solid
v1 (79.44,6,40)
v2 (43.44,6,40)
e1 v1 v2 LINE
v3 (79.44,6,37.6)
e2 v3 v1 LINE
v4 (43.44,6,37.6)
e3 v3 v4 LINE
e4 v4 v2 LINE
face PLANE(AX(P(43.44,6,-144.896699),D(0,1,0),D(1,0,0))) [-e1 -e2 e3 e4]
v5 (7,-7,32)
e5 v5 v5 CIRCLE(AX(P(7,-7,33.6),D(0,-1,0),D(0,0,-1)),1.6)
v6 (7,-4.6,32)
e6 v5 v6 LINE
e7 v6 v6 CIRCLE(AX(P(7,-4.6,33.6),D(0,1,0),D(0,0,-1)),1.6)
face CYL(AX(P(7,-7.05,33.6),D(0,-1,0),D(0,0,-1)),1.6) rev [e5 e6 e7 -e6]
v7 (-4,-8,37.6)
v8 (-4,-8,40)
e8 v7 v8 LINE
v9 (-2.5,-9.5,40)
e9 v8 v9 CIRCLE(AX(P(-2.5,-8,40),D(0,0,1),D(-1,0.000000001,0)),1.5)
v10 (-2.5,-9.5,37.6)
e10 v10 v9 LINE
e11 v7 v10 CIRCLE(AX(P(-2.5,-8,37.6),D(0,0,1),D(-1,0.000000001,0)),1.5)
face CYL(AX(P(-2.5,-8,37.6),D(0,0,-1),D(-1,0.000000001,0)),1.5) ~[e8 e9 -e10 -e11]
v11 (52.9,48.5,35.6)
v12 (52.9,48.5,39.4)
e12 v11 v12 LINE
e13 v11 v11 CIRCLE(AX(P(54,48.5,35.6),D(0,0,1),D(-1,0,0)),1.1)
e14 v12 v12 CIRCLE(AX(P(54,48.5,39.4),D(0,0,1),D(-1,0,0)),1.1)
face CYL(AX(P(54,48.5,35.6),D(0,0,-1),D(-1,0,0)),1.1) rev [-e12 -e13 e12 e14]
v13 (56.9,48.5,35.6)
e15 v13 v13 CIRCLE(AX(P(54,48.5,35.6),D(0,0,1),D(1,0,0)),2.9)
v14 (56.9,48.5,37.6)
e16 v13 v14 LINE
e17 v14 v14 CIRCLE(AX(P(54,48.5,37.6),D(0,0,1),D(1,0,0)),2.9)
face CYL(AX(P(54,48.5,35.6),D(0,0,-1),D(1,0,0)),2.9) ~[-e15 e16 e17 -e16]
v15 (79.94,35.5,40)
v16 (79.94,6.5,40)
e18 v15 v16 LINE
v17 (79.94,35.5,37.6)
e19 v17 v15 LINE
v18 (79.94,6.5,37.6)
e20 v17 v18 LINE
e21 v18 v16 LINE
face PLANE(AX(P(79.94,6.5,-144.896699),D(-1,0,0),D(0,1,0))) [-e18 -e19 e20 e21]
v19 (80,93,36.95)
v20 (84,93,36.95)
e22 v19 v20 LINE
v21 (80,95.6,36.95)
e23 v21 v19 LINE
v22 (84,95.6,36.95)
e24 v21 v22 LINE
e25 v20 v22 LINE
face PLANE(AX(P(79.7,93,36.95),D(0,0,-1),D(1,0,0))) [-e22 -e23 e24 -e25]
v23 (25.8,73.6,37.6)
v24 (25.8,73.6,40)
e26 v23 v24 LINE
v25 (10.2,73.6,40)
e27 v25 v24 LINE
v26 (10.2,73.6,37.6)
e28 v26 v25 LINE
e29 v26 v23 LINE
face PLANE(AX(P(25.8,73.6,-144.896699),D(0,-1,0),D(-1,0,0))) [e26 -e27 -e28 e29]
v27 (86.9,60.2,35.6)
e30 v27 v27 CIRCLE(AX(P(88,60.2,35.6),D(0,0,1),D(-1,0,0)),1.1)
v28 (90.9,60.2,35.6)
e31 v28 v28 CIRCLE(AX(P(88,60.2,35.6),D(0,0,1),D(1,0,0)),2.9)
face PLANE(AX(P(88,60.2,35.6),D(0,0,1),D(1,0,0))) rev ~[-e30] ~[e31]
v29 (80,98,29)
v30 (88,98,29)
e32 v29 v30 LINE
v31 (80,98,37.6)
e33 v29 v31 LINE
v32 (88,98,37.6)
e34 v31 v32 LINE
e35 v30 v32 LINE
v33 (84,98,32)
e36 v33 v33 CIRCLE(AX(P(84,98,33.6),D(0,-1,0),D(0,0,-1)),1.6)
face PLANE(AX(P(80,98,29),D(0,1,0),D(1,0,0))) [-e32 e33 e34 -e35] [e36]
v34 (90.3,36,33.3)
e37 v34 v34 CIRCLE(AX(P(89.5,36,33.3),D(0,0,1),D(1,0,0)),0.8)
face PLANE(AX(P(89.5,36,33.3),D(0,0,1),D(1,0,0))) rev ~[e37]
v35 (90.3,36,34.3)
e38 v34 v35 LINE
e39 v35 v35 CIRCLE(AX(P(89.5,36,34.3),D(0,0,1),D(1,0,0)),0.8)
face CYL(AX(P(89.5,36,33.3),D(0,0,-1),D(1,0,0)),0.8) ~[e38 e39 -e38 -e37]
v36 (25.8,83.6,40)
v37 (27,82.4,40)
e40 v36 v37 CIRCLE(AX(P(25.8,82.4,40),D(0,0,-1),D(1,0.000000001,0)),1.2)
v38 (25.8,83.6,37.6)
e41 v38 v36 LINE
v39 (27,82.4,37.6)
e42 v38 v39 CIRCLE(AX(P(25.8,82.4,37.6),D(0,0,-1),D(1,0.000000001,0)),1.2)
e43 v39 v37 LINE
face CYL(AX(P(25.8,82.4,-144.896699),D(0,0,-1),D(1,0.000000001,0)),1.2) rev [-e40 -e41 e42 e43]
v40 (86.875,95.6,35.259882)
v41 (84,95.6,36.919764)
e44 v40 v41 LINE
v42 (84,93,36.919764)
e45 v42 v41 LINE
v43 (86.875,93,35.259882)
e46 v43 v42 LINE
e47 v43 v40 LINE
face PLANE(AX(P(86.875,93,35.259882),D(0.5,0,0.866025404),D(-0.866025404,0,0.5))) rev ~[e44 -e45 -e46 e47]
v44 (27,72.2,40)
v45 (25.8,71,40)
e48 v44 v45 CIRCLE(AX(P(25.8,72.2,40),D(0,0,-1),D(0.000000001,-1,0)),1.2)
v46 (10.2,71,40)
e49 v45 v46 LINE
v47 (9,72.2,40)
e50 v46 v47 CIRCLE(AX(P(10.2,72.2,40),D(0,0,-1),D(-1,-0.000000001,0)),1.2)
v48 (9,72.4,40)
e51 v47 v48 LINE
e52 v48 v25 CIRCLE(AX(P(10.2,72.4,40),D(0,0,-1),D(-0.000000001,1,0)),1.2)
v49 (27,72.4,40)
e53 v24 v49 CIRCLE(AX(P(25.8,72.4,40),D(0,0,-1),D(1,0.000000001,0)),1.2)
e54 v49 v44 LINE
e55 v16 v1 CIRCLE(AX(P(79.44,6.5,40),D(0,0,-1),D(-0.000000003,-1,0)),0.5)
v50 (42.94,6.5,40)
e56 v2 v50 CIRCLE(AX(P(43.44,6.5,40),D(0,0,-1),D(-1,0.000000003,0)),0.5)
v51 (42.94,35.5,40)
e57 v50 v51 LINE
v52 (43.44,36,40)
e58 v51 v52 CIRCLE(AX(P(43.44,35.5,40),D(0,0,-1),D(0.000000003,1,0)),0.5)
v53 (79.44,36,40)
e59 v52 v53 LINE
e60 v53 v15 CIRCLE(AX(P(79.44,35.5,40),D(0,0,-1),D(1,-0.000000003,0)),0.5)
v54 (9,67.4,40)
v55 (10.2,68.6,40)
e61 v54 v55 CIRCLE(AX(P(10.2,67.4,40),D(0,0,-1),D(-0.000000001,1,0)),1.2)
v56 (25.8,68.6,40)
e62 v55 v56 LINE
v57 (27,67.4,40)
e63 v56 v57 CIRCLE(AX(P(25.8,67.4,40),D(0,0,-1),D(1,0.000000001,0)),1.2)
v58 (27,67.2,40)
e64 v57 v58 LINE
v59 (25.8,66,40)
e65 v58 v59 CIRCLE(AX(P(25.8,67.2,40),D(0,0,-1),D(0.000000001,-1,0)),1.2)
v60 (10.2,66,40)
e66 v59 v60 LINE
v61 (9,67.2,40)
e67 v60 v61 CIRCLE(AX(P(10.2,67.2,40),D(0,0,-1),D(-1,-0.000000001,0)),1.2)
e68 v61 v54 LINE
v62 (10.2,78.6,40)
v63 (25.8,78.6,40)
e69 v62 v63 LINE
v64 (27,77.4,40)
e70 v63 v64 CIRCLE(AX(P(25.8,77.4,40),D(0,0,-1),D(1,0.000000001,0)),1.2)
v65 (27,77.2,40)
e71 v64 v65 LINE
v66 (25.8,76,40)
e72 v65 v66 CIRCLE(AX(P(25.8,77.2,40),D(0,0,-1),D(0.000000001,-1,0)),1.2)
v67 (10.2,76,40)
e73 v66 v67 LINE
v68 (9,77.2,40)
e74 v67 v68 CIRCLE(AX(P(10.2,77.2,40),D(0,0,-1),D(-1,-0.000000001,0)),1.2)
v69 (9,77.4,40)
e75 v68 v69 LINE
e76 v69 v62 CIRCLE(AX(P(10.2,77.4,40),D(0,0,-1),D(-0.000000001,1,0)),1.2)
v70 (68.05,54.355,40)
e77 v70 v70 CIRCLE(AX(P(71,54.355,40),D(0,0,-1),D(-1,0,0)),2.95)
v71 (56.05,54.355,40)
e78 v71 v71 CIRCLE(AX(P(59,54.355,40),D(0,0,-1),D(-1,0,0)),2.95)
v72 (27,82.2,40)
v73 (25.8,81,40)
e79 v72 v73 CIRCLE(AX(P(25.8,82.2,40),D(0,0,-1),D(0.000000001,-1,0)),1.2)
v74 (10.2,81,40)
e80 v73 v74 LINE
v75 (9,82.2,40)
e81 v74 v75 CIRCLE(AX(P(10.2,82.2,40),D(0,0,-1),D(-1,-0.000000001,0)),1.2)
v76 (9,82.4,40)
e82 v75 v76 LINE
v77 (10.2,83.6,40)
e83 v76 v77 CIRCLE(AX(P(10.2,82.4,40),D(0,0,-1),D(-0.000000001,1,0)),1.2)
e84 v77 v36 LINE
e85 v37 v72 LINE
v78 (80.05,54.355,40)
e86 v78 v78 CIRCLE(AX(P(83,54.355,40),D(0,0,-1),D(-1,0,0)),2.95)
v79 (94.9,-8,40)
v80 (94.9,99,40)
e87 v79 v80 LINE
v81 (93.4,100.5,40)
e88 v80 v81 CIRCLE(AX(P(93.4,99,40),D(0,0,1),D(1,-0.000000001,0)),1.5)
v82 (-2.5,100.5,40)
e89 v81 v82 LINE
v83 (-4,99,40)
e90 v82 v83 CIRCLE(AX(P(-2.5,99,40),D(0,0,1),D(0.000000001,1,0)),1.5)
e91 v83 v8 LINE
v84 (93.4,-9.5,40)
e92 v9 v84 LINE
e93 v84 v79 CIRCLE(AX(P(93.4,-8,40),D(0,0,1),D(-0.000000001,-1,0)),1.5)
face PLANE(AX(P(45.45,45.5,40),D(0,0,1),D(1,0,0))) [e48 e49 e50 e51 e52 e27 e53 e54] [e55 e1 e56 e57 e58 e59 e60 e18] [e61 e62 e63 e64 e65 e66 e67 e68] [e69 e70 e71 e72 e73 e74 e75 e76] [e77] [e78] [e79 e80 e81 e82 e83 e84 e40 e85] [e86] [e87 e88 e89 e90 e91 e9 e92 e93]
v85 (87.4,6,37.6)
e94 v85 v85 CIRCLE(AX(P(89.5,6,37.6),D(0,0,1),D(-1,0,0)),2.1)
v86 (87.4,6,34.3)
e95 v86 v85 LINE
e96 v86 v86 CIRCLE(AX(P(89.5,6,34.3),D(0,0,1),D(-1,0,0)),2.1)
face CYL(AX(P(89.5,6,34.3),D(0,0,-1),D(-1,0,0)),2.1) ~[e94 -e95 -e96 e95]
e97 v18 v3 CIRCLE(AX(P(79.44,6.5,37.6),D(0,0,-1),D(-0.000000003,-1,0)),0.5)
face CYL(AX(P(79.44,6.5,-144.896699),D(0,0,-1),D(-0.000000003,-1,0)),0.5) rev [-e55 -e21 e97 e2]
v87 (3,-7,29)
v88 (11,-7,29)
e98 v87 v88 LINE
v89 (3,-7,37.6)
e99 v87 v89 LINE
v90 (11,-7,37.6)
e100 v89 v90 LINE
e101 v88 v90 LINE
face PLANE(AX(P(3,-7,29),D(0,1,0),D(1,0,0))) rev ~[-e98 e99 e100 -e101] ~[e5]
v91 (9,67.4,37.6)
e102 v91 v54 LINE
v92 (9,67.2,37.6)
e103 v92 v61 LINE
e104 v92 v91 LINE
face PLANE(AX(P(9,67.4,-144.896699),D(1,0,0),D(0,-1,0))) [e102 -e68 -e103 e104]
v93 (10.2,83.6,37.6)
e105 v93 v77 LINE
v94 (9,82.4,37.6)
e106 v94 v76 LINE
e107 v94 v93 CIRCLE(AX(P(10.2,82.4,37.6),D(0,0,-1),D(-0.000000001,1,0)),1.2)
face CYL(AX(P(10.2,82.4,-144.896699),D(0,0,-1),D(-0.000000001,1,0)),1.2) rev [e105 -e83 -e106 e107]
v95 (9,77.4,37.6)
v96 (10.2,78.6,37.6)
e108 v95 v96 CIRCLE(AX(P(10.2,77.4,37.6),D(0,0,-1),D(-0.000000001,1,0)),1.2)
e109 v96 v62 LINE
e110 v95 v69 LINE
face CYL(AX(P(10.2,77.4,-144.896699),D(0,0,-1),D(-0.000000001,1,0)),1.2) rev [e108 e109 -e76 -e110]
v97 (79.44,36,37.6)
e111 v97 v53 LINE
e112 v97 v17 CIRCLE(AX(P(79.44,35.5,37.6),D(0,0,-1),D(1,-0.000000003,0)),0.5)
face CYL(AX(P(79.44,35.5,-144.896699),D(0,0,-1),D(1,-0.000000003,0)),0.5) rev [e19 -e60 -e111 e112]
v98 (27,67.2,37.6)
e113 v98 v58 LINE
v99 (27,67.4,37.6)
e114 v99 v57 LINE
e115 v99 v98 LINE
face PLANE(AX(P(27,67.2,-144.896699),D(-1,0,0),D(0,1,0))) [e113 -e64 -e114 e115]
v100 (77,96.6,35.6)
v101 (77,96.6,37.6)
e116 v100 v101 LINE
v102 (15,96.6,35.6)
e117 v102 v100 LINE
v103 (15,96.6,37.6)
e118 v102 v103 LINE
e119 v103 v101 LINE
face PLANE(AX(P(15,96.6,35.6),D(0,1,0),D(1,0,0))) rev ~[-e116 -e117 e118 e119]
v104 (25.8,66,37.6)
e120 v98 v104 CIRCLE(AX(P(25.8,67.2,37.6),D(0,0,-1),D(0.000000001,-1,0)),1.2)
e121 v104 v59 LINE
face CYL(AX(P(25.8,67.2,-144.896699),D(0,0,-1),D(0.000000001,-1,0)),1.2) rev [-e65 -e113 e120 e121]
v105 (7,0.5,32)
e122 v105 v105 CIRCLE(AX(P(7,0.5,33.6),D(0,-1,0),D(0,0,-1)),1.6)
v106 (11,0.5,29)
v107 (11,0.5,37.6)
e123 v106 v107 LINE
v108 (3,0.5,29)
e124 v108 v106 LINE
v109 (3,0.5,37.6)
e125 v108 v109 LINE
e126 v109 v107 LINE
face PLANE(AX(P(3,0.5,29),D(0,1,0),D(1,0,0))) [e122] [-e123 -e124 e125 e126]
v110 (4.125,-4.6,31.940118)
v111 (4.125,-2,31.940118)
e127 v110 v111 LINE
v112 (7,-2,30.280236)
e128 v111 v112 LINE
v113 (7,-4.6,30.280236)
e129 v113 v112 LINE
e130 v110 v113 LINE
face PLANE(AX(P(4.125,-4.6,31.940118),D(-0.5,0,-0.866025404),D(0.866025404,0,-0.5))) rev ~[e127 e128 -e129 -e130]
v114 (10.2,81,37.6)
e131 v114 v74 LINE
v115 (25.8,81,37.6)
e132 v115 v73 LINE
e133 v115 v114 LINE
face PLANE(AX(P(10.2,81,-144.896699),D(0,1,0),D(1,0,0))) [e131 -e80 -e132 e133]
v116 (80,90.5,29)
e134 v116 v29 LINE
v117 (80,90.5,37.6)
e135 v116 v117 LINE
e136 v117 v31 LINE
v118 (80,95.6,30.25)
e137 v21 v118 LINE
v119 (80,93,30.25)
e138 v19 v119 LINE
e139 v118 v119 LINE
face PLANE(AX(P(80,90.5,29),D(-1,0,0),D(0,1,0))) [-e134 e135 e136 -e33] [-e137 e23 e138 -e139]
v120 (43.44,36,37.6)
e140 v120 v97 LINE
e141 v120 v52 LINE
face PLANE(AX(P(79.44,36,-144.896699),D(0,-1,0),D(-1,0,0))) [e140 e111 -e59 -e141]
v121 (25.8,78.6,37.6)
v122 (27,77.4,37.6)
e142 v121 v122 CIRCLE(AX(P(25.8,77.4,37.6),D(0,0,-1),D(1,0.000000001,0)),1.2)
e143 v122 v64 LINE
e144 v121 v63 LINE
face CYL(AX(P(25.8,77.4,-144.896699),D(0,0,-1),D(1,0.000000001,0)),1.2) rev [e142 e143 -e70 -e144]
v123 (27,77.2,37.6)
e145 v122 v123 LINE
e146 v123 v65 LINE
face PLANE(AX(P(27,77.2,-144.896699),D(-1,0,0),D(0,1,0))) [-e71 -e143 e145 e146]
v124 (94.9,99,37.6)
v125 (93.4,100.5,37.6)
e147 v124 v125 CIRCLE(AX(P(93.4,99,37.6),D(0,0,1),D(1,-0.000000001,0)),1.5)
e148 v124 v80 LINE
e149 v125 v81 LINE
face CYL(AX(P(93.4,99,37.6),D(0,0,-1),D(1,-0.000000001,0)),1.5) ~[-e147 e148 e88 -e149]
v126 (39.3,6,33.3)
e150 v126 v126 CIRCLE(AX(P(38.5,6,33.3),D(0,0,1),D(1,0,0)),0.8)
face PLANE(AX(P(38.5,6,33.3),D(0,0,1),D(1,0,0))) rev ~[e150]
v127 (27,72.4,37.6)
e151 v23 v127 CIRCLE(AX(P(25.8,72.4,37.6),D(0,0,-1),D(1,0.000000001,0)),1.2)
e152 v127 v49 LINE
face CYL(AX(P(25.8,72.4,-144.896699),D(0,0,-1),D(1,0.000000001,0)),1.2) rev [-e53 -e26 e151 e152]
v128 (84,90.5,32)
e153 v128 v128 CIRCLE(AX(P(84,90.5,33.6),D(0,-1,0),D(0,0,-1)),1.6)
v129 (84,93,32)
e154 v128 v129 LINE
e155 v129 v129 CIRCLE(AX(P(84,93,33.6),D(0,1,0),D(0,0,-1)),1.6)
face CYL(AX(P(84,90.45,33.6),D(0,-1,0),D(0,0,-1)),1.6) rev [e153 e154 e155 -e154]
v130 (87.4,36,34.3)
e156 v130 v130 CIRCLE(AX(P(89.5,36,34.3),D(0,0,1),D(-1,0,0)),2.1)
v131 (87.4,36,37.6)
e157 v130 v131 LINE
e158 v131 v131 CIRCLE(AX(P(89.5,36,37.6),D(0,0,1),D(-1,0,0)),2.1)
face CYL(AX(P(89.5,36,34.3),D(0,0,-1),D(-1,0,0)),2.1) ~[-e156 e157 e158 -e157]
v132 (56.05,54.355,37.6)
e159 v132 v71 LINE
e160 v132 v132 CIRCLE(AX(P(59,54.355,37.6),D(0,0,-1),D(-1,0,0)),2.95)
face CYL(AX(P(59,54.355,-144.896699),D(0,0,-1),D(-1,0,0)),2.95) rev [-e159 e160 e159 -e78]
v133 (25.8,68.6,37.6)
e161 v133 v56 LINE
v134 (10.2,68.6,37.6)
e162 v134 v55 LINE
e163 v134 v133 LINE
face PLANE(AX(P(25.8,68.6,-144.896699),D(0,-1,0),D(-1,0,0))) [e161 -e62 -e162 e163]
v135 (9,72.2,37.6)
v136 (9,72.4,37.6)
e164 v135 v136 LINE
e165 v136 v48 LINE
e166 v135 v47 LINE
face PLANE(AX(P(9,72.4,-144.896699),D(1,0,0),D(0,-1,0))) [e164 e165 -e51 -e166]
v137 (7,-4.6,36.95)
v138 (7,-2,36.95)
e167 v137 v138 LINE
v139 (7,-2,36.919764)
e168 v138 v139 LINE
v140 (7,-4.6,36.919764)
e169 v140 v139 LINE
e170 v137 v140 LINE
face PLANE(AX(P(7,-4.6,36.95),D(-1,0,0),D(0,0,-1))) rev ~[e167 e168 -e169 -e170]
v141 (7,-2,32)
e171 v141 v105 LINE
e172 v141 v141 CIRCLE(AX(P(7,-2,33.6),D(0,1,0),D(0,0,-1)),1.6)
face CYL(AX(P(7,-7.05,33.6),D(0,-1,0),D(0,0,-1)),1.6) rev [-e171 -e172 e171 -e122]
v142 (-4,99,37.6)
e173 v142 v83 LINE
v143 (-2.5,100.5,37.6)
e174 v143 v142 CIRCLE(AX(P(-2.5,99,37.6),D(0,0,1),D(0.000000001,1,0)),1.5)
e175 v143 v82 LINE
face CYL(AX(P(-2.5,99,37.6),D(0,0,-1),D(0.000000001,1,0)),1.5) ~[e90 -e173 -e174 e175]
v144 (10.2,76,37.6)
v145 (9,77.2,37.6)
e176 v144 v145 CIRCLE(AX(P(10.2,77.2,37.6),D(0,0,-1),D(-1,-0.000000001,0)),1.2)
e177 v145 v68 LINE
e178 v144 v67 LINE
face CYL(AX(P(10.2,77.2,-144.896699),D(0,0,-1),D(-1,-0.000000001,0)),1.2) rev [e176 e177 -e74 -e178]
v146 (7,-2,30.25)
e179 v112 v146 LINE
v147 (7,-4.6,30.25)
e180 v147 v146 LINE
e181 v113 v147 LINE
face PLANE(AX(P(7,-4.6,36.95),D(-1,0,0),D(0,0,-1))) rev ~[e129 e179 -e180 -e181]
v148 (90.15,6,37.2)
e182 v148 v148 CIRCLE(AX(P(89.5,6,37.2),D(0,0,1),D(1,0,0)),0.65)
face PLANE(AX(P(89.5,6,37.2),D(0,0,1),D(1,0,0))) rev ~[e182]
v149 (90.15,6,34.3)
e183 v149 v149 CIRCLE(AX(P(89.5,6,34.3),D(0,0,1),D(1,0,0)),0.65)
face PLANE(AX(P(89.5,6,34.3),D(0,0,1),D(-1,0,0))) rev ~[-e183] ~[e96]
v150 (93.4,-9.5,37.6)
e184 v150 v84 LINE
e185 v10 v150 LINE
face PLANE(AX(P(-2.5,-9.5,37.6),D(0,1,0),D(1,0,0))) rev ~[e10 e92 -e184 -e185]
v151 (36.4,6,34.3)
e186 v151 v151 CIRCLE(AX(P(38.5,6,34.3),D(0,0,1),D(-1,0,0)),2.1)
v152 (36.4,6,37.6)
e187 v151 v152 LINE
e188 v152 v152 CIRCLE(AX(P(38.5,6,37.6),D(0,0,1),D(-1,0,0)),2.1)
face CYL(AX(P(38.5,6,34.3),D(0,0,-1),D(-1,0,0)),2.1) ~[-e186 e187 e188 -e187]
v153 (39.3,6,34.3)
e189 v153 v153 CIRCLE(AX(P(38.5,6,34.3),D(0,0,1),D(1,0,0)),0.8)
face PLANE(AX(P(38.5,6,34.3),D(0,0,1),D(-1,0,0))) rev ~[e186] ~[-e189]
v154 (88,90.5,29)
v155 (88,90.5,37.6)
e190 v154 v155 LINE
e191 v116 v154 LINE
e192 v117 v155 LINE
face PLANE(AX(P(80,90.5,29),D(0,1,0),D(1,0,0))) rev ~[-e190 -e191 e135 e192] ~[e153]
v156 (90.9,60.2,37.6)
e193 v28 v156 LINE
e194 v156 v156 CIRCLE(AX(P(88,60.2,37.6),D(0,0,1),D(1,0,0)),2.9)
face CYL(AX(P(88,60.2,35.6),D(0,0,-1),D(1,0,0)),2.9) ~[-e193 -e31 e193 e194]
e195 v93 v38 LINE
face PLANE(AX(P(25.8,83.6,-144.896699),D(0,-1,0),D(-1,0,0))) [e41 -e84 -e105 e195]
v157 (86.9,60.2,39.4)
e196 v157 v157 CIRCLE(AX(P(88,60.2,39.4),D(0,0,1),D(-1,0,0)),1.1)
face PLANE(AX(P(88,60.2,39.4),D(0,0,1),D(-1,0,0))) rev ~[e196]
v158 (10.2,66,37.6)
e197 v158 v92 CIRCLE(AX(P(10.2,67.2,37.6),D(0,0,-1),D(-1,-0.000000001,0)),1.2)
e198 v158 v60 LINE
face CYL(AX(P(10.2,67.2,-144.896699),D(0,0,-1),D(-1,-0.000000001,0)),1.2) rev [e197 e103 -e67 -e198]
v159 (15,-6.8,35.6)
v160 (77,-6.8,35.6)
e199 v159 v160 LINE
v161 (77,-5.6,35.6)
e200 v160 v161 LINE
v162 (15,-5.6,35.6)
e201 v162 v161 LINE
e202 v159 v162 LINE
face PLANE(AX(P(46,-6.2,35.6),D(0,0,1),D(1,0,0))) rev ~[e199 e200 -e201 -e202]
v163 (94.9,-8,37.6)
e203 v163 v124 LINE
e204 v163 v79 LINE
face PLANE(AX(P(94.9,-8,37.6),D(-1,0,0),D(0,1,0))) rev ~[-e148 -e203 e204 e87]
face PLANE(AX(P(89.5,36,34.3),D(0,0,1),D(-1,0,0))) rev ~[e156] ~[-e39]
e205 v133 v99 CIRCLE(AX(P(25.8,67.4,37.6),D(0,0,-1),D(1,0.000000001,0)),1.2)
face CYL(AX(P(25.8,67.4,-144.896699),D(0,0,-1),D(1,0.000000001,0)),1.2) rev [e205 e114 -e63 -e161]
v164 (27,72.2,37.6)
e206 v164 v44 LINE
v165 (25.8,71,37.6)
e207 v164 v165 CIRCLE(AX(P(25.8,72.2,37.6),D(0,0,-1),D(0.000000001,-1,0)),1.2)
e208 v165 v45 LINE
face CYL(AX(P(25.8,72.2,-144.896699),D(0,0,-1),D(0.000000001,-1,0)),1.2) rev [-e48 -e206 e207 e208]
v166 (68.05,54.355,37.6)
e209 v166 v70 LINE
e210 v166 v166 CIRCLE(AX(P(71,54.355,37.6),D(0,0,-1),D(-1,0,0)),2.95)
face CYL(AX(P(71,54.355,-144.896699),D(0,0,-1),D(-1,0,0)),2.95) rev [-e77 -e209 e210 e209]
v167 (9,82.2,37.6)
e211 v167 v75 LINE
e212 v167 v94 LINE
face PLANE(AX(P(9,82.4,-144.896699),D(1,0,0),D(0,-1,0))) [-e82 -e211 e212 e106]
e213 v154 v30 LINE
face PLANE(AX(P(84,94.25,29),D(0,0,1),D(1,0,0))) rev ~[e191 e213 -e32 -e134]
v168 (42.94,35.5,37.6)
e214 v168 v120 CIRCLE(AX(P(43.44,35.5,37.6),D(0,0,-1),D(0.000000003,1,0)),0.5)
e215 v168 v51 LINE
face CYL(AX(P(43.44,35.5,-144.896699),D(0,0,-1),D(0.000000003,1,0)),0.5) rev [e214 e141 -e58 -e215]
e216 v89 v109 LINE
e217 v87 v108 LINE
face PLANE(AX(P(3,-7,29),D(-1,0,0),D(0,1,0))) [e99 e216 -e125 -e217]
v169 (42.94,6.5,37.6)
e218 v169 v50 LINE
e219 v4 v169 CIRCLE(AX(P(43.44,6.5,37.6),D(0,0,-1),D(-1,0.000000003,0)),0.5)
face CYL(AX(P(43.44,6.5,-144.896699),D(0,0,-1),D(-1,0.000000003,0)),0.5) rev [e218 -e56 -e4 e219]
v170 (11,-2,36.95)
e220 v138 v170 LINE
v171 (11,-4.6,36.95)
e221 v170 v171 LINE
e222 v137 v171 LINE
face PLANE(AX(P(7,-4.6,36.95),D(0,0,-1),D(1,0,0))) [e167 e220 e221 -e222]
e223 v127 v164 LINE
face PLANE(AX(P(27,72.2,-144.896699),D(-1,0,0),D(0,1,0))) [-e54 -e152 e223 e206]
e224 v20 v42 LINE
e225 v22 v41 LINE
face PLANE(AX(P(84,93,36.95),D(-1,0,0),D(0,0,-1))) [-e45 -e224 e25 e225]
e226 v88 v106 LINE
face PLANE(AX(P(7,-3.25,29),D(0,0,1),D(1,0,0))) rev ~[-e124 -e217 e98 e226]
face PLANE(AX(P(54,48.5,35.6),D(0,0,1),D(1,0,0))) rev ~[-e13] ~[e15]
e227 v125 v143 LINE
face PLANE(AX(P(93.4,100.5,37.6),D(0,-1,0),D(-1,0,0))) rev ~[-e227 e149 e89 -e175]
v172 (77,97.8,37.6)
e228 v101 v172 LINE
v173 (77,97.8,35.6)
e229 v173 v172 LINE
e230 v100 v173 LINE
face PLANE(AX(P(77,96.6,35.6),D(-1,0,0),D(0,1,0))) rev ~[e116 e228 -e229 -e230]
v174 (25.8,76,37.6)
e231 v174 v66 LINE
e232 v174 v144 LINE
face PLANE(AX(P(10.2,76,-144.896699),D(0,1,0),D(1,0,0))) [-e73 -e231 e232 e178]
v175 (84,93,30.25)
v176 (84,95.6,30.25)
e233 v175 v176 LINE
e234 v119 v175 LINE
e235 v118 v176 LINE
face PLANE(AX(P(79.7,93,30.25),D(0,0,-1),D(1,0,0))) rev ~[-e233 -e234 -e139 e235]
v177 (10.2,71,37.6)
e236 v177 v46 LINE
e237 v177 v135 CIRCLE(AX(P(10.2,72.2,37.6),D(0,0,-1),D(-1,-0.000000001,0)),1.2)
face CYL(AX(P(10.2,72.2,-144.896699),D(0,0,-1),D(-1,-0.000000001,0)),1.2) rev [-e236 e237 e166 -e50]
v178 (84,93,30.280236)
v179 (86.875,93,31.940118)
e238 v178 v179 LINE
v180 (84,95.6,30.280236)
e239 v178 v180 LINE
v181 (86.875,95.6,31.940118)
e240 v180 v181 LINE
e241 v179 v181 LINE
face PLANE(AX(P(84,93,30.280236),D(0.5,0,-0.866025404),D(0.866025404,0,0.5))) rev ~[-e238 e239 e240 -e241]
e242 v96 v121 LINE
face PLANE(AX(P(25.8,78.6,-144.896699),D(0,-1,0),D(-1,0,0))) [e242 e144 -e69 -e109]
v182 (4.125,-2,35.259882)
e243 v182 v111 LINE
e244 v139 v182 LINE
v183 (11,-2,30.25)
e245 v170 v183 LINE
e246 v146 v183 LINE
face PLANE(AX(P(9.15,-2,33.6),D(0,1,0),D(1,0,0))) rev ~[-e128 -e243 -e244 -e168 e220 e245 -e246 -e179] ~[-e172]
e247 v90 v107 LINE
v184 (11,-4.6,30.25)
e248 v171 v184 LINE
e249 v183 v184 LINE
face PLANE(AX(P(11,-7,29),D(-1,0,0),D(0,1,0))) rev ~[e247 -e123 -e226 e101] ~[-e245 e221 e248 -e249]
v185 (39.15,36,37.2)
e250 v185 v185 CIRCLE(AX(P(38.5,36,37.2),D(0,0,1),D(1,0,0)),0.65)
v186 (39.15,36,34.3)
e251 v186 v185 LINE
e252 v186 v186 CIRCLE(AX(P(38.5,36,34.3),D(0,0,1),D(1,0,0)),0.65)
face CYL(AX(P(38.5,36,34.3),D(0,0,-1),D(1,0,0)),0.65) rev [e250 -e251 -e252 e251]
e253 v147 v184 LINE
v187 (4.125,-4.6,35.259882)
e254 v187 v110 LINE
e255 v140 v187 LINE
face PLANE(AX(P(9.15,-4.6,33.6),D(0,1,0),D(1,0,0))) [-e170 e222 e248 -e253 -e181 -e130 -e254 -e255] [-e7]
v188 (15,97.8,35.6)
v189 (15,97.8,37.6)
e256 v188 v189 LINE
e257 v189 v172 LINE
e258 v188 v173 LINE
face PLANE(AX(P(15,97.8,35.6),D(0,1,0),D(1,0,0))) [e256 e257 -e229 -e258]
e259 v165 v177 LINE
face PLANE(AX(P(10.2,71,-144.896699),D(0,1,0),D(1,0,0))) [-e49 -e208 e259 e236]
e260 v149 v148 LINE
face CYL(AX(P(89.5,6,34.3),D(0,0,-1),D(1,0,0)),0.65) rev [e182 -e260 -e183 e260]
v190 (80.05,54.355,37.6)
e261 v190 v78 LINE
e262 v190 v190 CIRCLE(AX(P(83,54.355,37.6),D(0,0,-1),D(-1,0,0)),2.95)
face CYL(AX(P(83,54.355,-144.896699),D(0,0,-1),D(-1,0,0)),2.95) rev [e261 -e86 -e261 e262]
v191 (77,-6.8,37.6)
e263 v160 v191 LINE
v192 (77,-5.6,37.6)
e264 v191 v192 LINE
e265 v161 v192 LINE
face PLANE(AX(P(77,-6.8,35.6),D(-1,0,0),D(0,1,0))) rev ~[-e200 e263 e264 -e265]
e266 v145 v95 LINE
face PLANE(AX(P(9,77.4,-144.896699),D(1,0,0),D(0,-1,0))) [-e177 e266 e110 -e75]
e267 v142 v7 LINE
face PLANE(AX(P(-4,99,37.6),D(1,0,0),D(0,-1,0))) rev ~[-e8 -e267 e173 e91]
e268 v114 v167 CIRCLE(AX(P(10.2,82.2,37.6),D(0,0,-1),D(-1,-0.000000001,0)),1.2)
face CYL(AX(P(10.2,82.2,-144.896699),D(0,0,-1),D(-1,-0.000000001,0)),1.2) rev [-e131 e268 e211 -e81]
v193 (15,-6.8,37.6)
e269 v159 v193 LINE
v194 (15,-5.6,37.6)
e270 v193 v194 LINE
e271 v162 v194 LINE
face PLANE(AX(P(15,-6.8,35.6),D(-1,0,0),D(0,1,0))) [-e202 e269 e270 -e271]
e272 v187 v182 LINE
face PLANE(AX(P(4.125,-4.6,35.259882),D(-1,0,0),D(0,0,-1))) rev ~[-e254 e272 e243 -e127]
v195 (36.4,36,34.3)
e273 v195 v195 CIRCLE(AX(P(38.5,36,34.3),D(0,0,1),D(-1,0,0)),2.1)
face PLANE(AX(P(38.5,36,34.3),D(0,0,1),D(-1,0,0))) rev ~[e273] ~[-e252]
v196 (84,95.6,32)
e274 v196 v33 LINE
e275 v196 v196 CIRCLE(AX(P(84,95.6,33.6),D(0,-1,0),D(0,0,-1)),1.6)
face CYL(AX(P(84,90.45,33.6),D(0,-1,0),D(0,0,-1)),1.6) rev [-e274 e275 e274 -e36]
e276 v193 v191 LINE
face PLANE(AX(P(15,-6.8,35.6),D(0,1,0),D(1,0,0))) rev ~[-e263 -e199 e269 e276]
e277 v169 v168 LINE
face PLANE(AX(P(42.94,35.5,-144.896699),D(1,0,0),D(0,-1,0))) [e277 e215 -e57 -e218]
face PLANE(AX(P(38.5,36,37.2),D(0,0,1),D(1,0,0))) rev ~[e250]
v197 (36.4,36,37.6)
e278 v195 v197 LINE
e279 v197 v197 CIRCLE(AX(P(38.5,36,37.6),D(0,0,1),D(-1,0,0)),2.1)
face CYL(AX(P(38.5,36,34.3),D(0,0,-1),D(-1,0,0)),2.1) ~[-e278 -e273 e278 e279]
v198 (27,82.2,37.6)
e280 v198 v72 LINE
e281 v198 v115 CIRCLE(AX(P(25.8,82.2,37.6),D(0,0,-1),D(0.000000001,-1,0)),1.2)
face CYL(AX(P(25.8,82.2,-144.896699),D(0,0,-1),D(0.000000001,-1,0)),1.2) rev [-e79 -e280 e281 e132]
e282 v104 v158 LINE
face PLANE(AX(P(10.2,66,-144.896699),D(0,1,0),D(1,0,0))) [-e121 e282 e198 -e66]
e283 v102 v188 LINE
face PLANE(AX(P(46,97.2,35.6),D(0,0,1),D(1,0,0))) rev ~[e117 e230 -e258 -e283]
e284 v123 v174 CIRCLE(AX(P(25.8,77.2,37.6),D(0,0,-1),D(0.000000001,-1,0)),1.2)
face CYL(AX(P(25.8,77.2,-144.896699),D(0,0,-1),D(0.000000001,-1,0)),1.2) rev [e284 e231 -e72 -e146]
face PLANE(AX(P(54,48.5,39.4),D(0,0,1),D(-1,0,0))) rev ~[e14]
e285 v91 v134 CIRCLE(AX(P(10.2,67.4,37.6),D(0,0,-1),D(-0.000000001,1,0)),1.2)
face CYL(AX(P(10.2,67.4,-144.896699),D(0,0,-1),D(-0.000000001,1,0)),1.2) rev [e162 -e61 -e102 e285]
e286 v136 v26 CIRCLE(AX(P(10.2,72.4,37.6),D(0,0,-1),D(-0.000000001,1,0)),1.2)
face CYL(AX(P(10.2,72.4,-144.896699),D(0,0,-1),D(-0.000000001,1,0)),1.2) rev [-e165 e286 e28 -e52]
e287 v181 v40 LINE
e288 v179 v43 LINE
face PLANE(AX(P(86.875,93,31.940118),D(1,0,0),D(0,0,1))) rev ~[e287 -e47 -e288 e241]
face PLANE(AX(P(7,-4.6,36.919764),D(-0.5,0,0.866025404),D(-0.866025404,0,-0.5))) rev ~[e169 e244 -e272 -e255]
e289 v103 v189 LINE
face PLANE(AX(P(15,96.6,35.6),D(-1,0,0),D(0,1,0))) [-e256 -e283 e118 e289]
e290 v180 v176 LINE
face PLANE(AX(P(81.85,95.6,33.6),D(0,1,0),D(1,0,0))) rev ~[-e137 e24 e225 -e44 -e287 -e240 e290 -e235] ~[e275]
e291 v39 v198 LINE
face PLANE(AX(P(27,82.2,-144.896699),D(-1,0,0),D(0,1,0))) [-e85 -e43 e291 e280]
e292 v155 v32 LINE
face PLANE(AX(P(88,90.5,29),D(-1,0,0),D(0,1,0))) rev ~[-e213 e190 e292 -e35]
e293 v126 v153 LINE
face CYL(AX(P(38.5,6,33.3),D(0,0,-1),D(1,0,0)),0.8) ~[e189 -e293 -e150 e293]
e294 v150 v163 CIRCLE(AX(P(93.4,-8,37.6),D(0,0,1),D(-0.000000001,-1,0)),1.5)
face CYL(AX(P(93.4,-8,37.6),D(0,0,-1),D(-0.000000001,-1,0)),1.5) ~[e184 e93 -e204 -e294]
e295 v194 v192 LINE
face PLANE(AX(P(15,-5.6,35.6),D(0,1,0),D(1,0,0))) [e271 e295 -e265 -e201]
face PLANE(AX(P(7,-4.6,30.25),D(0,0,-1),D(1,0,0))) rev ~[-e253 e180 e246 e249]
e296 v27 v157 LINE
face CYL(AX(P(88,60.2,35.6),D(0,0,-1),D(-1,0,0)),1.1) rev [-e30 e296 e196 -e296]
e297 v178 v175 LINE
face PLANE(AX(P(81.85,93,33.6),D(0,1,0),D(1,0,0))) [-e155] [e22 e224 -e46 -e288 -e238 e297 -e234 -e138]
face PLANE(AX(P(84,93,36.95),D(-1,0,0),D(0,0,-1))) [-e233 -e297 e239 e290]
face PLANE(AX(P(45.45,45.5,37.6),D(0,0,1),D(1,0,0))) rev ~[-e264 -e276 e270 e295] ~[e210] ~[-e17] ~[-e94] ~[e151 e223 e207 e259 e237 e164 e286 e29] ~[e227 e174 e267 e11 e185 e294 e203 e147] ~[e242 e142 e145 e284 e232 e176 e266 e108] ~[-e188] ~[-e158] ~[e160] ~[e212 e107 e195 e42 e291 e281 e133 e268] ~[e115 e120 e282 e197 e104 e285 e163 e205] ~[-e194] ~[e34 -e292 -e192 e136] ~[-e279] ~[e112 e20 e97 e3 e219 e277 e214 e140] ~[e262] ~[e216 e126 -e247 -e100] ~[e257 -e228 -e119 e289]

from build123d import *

# Parameters (mm, degrees)
LID_PLATE_START                        = 37.6
LID_PLATE_DEPTH                        = 2.4
TWO_SIDE_FASTENING_TABS_START          = 29
SKETCH_2_W                             = 8
SKETCH_2_H                             = 7.5
TWO_SIDE_FASTENING_TABS_DEPTH          = 8.6
M3_TAB_BORE_1_DEPTH                    = 3.8
M3_TAB_BORE_1_DEPTH_BACK               = 3.8
M3_TAB_BORE_1_START                    = -3.25
SKETCH_3_R                             = 1.6
M3_TAB_CAPTIVE_NUT_1_DEPTH             = 1.3
M3_TAB_CAPTIVE_NUT_1_DEPTH_BACK        = 1.3
M3_TAB_CAPTIVE_NUT_1_START             = -3.3
M3_TAB_NUT_LOADING_SLOT_1_DEPTH        = 1.3
M3_TAB_NUT_LOADING_SLOT_1_DEPTH_BACK   = 1.3
M3_TAB_NUT_LOADING_SLOT_1_START        = -3.3
SKETCH_5_W                             = 4.3
SKETCH_5_H                             = 6.7
M3_TAB_BORE_2_DEPTH                    = 3.8
M3_TAB_BORE_2_DEPTH_BACK               = 3.8
M3_TAB_BORE_2_START                    = 94.25
SKETCH_6_R                             = 1.6
M3_TAB_CAPTIVE_NUT_2_DEPTH             = 1.3
M3_TAB_CAPTIVE_NUT_2_DEPTH_BACK        = 1.3
M3_TAB_CAPTIVE_NUT_2_START             = 94.3
M3_TAB_NUT_LOADING_SLOT_2_DEPTH        = 1.3
M3_TAB_NUT_LOADING_SLOT_2_DEPTH_BACK   = 1.3
M3_TAB_NUT_LOADING_SLOT_2_START        = 94.3
SKETCH_8_W                             = 4.3
SKETCH_8_H                             = 6.7
SIDE_LOCATING_LIPS_START               = 35.6
SKETCH_9_W                             = 62
SKETCH_9_H                             = 1.2
SIDE_LOCATING_LIPS_DEPTH               = 2
LCD_VIEWING_WINDOW_DEPTH               = 144.896699059
LCD_VIEWING_WINDOW_DEPTH_BACK          = 144.896699059
LCD_MOUNTING_SPACERS_START             = 34.3
SKETCH_11_R                            = 2.1
LCD_MOUNTING_SPACERS_DEPTH             = 3.3
TWO_LCD_LOCATING_PINS_START            = 33.3
SKETCH_12_R                            = 0.8
TWO_LCD_LOCATING_PINS_DEPTH            = 1
TWO_BLIND_M1P6_LCD_PILOTS_DEPTH        = 1.45
TWO_BLIND_M1P6_LCD_PILOTS_DEPTH_BACK   = 1.45
TWO_BLIND_M1P6_LCD_PILOTS_START        = 35.75
SKETCH_13_R                            = 0.65
THREE_BUTTON_GUIDES_DEPTH              = 144.896699059
THREE_BUTTON_GUIDES_DEPTH_BACK         = 144.896699059
SKETCH_14_R                            = 2.95
BUTTON_RETAINER_BOSSES_START           = 35.6
SKETCH_15_R                            = 2.9
BUTTON_RETAINER_BOSSES_DEPTH           = 2
BUTTON_RETAINER_PILOT_HOLES_DEPTH      = 1.9
BUTTON_RETAINER_PILOT_HOLES_DEPTH_BACK = 1.9
BUTTON_RETAINER_PILOT_HOLES_START      = 37.5
SKETCH_16_R                            = 1.1
TOP_AIR_SLOTS_DEPTH                    = 144.896699059
TOP_AIR_SLOTS_DEPTH_BACK               = 144.896699059


with BuildPart() as part:
    # 草图1 → Lid_plate (new body)
    with BuildSketch(Plane.XY.offset(LID_PLATE_START)):
        with BuildLine():
            Line((-2.5, -9.5), (93.4, -9.5))
            ThreePointArc((93.4, -9.5), (94.460660172, -9.060660172), (94.9, -8))
            Line((94.9, -8), (94.9, 99))
            ThreePointArc((94.9, 99), (94.460660172, 100.060660172), (93.4, 100.5))
            Line((93.4, 100.5), (-2.5, 100.5))
            ThreePointArc((-2.5, 100.5), (-3.560660172, 100.060660172), (-4, 99))
            Line((-4, 99), (-4, -8))
            ThreePointArc((-4, -8), (-3.560660172, -9.060660172), (-2.5, -9.5))
        make_face()
    extrude(amount=LID_PLATE_DEPTH)

    # 草图2 → Two_side_fastening_tabs (add)
    with BuildSketch(Plane.XY.offset(TWO_SIDE_FASTENING_TABS_START)):
        with Locations((7, -3.25)):
            Rectangle(SKETCH_2_W, SKETCH_2_H)
        with Locations((84, 94.25)):
            Rectangle(SKETCH_2_W, SKETCH_2_H)
    extrude(amount=TWO_SIDE_FASTENING_TABS_DEPTH)

    # 草图3 → M3_tab_bore_1 (cut, two sides: drawn at the far end of the back side and taken through both)
    with BuildSketch(Plane(origin=(0, 0, 0), x_dir=(1, 0, 0), z_dir=(0, 1, 0)).offset(M3_TAB_BORE_1_START - M3_TAB_BORE_1_DEPTH_BACK)):
        with Locations(Location((7, -33.6, 0), (0, 0, 90))):
            Circle(SKETCH_3_R)
    extrude(amount=M3_TAB_BORE_1_DEPTH + M3_TAB_BORE_1_DEPTH_BACK, mode=Mode.SUBTRACT)

    # 草图4 → M3_tab_captive_nut_1 (cut, two sides: drawn at the far end of the back side and taken through both)
    with BuildSketch(Plane(origin=(0, 0, 0), x_dir=(1, 0, 0), z_dir=(0, 1, 0)).offset(M3_TAB_CAPTIVE_NUT_1_START - M3_TAB_CAPTIVE_NUT_1_DEPTH_BACK)):
        Polygon((9.875, -35.259882024), (7, -36.919764048), (4.125, -35.259882024), (4.125, -31.940117976), (7, -30.280235952), (9.875, -31.940117976), align=None)
    extrude(amount=M3_TAB_CAPTIVE_NUT_1_DEPTH + M3_TAB_CAPTIVE_NUT_1_DEPTH_BACK, mode=Mode.SUBTRACT)

    # 草图5 → M3_tab_nut_loading_slot_1 (cut, two sides: drawn at the far end of the back side and taken through both)
    with BuildSketch(Plane(origin=(0, 0, 0), x_dir=(1, 0, 0), z_dir=(0, 1, 0)).offset(M3_TAB_NUT_LOADING_SLOT_1_START - M3_TAB_NUT_LOADING_SLOT_1_DEPTH_BACK)):
        with Locations((9.15, -33.6)):
            Rectangle(SKETCH_5_W, SKETCH_5_H)
    extrude(amount=M3_TAB_NUT_LOADING_SLOT_1_DEPTH + M3_TAB_NUT_LOADING_SLOT_1_DEPTH_BACK, mode=Mode.SUBTRACT)

    # 草图6 → M3_tab_bore_2 (cut, two sides: drawn at the far end of the back side and taken through both)
    with BuildSketch(Plane(origin=(0, 0, 0), x_dir=(1, 0, 0), z_dir=(0, 1, 0)).offset(M3_TAB_BORE_2_START - M3_TAB_BORE_2_DEPTH_BACK)):
        with Locations(Location((84, -33.6, 0), (0, 0, 90))):
            Circle(SKETCH_6_R)
    extrude(amount=M3_TAB_BORE_2_DEPTH + M3_TAB_BORE_2_DEPTH_BACK, mode=Mode.SUBTRACT)

    # 草图7 → M3_tab_captive_nut_2 (cut, two sides: drawn at the far end of the back side and taken through both)
    with BuildSketch(Plane(origin=(0, 0, 0), x_dir=(1, 0, 0), z_dir=(0, 1, 0)).offset(M3_TAB_CAPTIVE_NUT_2_START - M3_TAB_CAPTIVE_NUT_2_DEPTH_BACK)):
        Polygon((86.875, -35.259882024), (84, -36.919764048), (81.125, -35.259882024), (81.125, -31.940117976), (84, -30.280235952), (86.875, -31.940117976), align=None)
    extrude(amount=M3_TAB_CAPTIVE_NUT_2_DEPTH + M3_TAB_CAPTIVE_NUT_2_DEPTH_BACK, mode=Mode.SUBTRACT)

    # 草图8 → M3_tab_nut_loading_slot_2 (cut, two sides: drawn at the far end of the back side and taken through both)
    with BuildSketch(Plane(origin=(0, 0, 0), x_dir=(1, 0, 0), z_dir=(0, 1, 0)).offset(M3_TAB_NUT_LOADING_SLOT_2_START - M3_TAB_NUT_LOADING_SLOT_2_DEPTH_BACK)):
        with Locations((81.85, -33.6)):
            Rectangle(SKETCH_8_W, SKETCH_8_H)
    extrude(amount=M3_TAB_NUT_LOADING_SLOT_2_DEPTH + M3_TAB_NUT_LOADING_SLOT_2_DEPTH_BACK, mode=Mode.SUBTRACT)

    # 草图9 → Side_locating_lips (add)
    with BuildSketch(Plane.XY.offset(SIDE_LOCATING_LIPS_START)):
        with Locations((46, -6.2)):
            Rectangle(SKETCH_9_W, SKETCH_9_H)
        with Locations((46, 97.2)):
            Rectangle(SKETCH_9_W, SKETCH_9_H)
    extrude(amount=SIDE_LOCATING_LIPS_DEPTH)

    # 草图10 → LCD_viewing_window (cut, two sides: drawn at the far end of the back side and taken through both)
    with BuildSketch(Plane.XY.offset(-LCD_VIEWING_WINDOW_DEPTH_BACK)):
        with BuildLine():
            Line((43.44, 6), (79.44, 6))
            ThreePointArc((79.44, 6), (79.793553391, 6.146446609), (79.94, 6.5))
            Line((79.94, 6.5), (79.94, 35.5))
            ThreePointArc((79.94, 35.5), (79.793553391, 35.853553391), (79.44, 36))
            Line((79.44, 36), (43.44, 36))
            ThreePointArc((43.44, 36), (43.086446609, 35.853553391), (42.94, 35.5))
            Line((42.94, 35.5), (42.94, 6.5))
            ThreePointArc((42.94, 6.5), (43.086446609, 6.146446609), (43.44, 6))
        make_face()
    extrude(amount=LCD_VIEWING_WINDOW_DEPTH + LCD_VIEWING_WINDOW_DEPTH_BACK, mode=Mode.SUBTRACT)

    # 草图11 → LCD_mounting_spacers (add)
    with BuildSketch(Plane.XY.offset(LCD_MOUNTING_SPACERS_START)):
        with Locations(Location((38.5, 6, 0), (0, 0, 180))):
            Circle(SKETCH_11_R)
        with Locations(Location((38.5, 36, 0), (0, 0, 180))):
            Circle(SKETCH_11_R)
        with Locations(Location((89.5, 6, 0), (0, 0, 180))):
            Circle(SKETCH_11_R)
        with Locations(Location((89.5, 36, 0), (0, 0, 180))):
            Circle(SKETCH_11_R)
    extrude(amount=LCD_MOUNTING_SPACERS_DEPTH)

    # 草图12 → Two_LCD_locating_pins (add)
    with BuildSketch(Plane.XY.offset(TWO_LCD_LOCATING_PINS_START)):
        with Locations((38.5, 6)):
            Circle(SKETCH_12_R)
        with Locations((89.5, 36)):
            Circle(SKETCH_12_R)
    extrude(amount=TWO_LCD_LOCATING_PINS_DEPTH)

    # 草图13 → Two_blind_M1p6_LCD_pilots (cut, two sides: drawn at the far end of the back side and taken through both)
    with BuildSketch(Plane.XY.offset(TWO_BLIND_M1P6_LCD_PILOTS_START - TWO_BLIND_M1P6_LCD_PILOTS_DEPTH_BACK)):
        with Locations((38.5, 36)):
            Circle(SKETCH_13_R)
        with Locations((89.5, 6)):
            Circle(SKETCH_13_R)
    extrude(amount=TWO_BLIND_M1P6_LCD_PILOTS_DEPTH + TWO_BLIND_M1P6_LCD_PILOTS_DEPTH_BACK, mode=Mode.SUBTRACT)

    # 草图14 → Three_button_guides (cut, two sides: drawn at the far end of the back side and taken through both)
    with BuildSketch(Plane.XY.offset(-THREE_BUTTON_GUIDES_DEPTH_BACK)):
        with Locations(Location((59, 54.355, 0), (0, 0, 180))):
            Circle(SKETCH_14_R)
        with Locations(Location((71, 54.355, 0), (0, 0, 180))):
            Circle(SKETCH_14_R)
        with Locations(Location((83, 54.355, 0), (0, 0, 180))):
            Circle(SKETCH_14_R)
    extrude(amount=THREE_BUTTON_GUIDES_DEPTH + THREE_BUTTON_GUIDES_DEPTH_BACK, mode=Mode.SUBTRACT)

    # 草图15 → Button_retainer_bosses (add)
    with BuildSketch(Plane.XY.offset(BUTTON_RETAINER_BOSSES_START)):
        with Locations((54, 48.5)):
            Circle(SKETCH_15_R)
        with Locations((88, 60.2)):
            Circle(SKETCH_15_R)
    extrude(amount=BUTTON_RETAINER_BOSSES_DEPTH)

    # 草图16 → Button_retainer_pilot_holes (cut, two sides: drawn at the far end of the back side and taken through both)
    with BuildSketch(Plane.XY.offset(BUTTON_RETAINER_PILOT_HOLES_START - BUTTON_RETAINER_PILOT_HOLES_DEPTH_BACK)):
        with Locations(Location((54, 48.5, 0), (0, 0, 180))):
            Circle(SKETCH_16_R)
        with Locations(Location((88, 60.2, 0), (0, 0, 180))):
            Circle(SKETCH_16_R)
    extrude(amount=BUTTON_RETAINER_PILOT_HOLES_DEPTH + BUTTON_RETAINER_PILOT_HOLES_DEPTH_BACK, mode=Mode.SUBTRACT)

    # 草图17 → Top_air_slots (cut, two sides: drawn at the far end of the back side and taken through both)
    with BuildSketch(Plane.XY.offset(-TOP_AIR_SLOTS_DEPTH_BACK)):
        with BuildLine():
            Line((10.2, 66), (25.8, 66))
            ThreePointArc((25.8, 66), (26.648528137, 66.351471863), (27, 67.2))
            Line((27, 67.2), (27, 67.4))
            ThreePointArc((27, 67.4), (26.648528137, 68.248528137), (25.8, 68.6))
            Line((25.8, 68.6), (10.2, 68.6))
            ThreePointArc((10.2, 68.6), (9.351471863, 68.248528137), (9, 67.4))
            Line((9, 67.4), (9, 67.2))
            ThreePointArc((9, 67.2), (9.351471863, 66.351471863), (10.2, 66))
        make_face()
        with BuildLine():
            Line((10.2, 71), (25.8, 71))
            ThreePointArc((25.8, 71), (26.648528137, 71.351471863), (27, 72.2))
            Line((27, 72.2), (27, 72.4))
            ThreePointArc((27, 72.4), (26.648528137, 73.248528137), (25.8, 73.6))
            Line((25.8, 73.6), (10.2, 73.6))
            ThreePointArc((10.2, 73.6), (9.351471863, 73.248528137), (9, 72.4))
            Line((9, 72.4), (9, 72.2))
            ThreePointArc((9, 72.2), (9.351471863, 71.351471863), (10.2, 71))
        make_face()
        with BuildLine():
            Line((10.2, 76), (25.8, 76))
            ThreePointArc((25.8, 76), (26.648528137, 76.351471863), (27, 77.2))
            Line((27, 77.2), (27, 77.4))
            ThreePointArc((27, 77.4), (26.648528137, 78.248528137), (25.8, 78.6))
            Line((25.8, 78.6), (10.2, 78.6))
            ThreePointArc((10.2, 78.6), (9.351471863, 78.248528137), (9, 77.4))
            Line((9, 77.4), (9, 77.2))
            ThreePointArc((9, 77.2), (9.351471863, 76.351471863), (10.2, 76))
        make_face()
        with BuildLine():
            Line((10.2, 81), (25.8, 81))
            ThreePointArc((25.8, 81), (26.648528137, 81.351471863), (27, 82.2))
            Line((27, 82.2), (27, 82.4))
            ThreePointArc((27, 82.4), (26.648528137, 83.248528137), (25.8, 83.6))
            Line((25.8, 83.6), (10.2, 83.6))
            ThreePointArc((10.2, 83.6), (9.351471863, 83.248528137), (9, 82.4))
            Line((9, 82.4), (9, 82.2))
            ThreePointArc((9, 82.2), (9.351471863, 81.351471863), (10.2, 81))
        make_face()
    extrude(amount=TOP_AIR_SLOTS_DEPTH + TOP_AIR_SLOTS_DEPTH_BACK, mode=Mode.SUBTRACT)


solid = part.part
